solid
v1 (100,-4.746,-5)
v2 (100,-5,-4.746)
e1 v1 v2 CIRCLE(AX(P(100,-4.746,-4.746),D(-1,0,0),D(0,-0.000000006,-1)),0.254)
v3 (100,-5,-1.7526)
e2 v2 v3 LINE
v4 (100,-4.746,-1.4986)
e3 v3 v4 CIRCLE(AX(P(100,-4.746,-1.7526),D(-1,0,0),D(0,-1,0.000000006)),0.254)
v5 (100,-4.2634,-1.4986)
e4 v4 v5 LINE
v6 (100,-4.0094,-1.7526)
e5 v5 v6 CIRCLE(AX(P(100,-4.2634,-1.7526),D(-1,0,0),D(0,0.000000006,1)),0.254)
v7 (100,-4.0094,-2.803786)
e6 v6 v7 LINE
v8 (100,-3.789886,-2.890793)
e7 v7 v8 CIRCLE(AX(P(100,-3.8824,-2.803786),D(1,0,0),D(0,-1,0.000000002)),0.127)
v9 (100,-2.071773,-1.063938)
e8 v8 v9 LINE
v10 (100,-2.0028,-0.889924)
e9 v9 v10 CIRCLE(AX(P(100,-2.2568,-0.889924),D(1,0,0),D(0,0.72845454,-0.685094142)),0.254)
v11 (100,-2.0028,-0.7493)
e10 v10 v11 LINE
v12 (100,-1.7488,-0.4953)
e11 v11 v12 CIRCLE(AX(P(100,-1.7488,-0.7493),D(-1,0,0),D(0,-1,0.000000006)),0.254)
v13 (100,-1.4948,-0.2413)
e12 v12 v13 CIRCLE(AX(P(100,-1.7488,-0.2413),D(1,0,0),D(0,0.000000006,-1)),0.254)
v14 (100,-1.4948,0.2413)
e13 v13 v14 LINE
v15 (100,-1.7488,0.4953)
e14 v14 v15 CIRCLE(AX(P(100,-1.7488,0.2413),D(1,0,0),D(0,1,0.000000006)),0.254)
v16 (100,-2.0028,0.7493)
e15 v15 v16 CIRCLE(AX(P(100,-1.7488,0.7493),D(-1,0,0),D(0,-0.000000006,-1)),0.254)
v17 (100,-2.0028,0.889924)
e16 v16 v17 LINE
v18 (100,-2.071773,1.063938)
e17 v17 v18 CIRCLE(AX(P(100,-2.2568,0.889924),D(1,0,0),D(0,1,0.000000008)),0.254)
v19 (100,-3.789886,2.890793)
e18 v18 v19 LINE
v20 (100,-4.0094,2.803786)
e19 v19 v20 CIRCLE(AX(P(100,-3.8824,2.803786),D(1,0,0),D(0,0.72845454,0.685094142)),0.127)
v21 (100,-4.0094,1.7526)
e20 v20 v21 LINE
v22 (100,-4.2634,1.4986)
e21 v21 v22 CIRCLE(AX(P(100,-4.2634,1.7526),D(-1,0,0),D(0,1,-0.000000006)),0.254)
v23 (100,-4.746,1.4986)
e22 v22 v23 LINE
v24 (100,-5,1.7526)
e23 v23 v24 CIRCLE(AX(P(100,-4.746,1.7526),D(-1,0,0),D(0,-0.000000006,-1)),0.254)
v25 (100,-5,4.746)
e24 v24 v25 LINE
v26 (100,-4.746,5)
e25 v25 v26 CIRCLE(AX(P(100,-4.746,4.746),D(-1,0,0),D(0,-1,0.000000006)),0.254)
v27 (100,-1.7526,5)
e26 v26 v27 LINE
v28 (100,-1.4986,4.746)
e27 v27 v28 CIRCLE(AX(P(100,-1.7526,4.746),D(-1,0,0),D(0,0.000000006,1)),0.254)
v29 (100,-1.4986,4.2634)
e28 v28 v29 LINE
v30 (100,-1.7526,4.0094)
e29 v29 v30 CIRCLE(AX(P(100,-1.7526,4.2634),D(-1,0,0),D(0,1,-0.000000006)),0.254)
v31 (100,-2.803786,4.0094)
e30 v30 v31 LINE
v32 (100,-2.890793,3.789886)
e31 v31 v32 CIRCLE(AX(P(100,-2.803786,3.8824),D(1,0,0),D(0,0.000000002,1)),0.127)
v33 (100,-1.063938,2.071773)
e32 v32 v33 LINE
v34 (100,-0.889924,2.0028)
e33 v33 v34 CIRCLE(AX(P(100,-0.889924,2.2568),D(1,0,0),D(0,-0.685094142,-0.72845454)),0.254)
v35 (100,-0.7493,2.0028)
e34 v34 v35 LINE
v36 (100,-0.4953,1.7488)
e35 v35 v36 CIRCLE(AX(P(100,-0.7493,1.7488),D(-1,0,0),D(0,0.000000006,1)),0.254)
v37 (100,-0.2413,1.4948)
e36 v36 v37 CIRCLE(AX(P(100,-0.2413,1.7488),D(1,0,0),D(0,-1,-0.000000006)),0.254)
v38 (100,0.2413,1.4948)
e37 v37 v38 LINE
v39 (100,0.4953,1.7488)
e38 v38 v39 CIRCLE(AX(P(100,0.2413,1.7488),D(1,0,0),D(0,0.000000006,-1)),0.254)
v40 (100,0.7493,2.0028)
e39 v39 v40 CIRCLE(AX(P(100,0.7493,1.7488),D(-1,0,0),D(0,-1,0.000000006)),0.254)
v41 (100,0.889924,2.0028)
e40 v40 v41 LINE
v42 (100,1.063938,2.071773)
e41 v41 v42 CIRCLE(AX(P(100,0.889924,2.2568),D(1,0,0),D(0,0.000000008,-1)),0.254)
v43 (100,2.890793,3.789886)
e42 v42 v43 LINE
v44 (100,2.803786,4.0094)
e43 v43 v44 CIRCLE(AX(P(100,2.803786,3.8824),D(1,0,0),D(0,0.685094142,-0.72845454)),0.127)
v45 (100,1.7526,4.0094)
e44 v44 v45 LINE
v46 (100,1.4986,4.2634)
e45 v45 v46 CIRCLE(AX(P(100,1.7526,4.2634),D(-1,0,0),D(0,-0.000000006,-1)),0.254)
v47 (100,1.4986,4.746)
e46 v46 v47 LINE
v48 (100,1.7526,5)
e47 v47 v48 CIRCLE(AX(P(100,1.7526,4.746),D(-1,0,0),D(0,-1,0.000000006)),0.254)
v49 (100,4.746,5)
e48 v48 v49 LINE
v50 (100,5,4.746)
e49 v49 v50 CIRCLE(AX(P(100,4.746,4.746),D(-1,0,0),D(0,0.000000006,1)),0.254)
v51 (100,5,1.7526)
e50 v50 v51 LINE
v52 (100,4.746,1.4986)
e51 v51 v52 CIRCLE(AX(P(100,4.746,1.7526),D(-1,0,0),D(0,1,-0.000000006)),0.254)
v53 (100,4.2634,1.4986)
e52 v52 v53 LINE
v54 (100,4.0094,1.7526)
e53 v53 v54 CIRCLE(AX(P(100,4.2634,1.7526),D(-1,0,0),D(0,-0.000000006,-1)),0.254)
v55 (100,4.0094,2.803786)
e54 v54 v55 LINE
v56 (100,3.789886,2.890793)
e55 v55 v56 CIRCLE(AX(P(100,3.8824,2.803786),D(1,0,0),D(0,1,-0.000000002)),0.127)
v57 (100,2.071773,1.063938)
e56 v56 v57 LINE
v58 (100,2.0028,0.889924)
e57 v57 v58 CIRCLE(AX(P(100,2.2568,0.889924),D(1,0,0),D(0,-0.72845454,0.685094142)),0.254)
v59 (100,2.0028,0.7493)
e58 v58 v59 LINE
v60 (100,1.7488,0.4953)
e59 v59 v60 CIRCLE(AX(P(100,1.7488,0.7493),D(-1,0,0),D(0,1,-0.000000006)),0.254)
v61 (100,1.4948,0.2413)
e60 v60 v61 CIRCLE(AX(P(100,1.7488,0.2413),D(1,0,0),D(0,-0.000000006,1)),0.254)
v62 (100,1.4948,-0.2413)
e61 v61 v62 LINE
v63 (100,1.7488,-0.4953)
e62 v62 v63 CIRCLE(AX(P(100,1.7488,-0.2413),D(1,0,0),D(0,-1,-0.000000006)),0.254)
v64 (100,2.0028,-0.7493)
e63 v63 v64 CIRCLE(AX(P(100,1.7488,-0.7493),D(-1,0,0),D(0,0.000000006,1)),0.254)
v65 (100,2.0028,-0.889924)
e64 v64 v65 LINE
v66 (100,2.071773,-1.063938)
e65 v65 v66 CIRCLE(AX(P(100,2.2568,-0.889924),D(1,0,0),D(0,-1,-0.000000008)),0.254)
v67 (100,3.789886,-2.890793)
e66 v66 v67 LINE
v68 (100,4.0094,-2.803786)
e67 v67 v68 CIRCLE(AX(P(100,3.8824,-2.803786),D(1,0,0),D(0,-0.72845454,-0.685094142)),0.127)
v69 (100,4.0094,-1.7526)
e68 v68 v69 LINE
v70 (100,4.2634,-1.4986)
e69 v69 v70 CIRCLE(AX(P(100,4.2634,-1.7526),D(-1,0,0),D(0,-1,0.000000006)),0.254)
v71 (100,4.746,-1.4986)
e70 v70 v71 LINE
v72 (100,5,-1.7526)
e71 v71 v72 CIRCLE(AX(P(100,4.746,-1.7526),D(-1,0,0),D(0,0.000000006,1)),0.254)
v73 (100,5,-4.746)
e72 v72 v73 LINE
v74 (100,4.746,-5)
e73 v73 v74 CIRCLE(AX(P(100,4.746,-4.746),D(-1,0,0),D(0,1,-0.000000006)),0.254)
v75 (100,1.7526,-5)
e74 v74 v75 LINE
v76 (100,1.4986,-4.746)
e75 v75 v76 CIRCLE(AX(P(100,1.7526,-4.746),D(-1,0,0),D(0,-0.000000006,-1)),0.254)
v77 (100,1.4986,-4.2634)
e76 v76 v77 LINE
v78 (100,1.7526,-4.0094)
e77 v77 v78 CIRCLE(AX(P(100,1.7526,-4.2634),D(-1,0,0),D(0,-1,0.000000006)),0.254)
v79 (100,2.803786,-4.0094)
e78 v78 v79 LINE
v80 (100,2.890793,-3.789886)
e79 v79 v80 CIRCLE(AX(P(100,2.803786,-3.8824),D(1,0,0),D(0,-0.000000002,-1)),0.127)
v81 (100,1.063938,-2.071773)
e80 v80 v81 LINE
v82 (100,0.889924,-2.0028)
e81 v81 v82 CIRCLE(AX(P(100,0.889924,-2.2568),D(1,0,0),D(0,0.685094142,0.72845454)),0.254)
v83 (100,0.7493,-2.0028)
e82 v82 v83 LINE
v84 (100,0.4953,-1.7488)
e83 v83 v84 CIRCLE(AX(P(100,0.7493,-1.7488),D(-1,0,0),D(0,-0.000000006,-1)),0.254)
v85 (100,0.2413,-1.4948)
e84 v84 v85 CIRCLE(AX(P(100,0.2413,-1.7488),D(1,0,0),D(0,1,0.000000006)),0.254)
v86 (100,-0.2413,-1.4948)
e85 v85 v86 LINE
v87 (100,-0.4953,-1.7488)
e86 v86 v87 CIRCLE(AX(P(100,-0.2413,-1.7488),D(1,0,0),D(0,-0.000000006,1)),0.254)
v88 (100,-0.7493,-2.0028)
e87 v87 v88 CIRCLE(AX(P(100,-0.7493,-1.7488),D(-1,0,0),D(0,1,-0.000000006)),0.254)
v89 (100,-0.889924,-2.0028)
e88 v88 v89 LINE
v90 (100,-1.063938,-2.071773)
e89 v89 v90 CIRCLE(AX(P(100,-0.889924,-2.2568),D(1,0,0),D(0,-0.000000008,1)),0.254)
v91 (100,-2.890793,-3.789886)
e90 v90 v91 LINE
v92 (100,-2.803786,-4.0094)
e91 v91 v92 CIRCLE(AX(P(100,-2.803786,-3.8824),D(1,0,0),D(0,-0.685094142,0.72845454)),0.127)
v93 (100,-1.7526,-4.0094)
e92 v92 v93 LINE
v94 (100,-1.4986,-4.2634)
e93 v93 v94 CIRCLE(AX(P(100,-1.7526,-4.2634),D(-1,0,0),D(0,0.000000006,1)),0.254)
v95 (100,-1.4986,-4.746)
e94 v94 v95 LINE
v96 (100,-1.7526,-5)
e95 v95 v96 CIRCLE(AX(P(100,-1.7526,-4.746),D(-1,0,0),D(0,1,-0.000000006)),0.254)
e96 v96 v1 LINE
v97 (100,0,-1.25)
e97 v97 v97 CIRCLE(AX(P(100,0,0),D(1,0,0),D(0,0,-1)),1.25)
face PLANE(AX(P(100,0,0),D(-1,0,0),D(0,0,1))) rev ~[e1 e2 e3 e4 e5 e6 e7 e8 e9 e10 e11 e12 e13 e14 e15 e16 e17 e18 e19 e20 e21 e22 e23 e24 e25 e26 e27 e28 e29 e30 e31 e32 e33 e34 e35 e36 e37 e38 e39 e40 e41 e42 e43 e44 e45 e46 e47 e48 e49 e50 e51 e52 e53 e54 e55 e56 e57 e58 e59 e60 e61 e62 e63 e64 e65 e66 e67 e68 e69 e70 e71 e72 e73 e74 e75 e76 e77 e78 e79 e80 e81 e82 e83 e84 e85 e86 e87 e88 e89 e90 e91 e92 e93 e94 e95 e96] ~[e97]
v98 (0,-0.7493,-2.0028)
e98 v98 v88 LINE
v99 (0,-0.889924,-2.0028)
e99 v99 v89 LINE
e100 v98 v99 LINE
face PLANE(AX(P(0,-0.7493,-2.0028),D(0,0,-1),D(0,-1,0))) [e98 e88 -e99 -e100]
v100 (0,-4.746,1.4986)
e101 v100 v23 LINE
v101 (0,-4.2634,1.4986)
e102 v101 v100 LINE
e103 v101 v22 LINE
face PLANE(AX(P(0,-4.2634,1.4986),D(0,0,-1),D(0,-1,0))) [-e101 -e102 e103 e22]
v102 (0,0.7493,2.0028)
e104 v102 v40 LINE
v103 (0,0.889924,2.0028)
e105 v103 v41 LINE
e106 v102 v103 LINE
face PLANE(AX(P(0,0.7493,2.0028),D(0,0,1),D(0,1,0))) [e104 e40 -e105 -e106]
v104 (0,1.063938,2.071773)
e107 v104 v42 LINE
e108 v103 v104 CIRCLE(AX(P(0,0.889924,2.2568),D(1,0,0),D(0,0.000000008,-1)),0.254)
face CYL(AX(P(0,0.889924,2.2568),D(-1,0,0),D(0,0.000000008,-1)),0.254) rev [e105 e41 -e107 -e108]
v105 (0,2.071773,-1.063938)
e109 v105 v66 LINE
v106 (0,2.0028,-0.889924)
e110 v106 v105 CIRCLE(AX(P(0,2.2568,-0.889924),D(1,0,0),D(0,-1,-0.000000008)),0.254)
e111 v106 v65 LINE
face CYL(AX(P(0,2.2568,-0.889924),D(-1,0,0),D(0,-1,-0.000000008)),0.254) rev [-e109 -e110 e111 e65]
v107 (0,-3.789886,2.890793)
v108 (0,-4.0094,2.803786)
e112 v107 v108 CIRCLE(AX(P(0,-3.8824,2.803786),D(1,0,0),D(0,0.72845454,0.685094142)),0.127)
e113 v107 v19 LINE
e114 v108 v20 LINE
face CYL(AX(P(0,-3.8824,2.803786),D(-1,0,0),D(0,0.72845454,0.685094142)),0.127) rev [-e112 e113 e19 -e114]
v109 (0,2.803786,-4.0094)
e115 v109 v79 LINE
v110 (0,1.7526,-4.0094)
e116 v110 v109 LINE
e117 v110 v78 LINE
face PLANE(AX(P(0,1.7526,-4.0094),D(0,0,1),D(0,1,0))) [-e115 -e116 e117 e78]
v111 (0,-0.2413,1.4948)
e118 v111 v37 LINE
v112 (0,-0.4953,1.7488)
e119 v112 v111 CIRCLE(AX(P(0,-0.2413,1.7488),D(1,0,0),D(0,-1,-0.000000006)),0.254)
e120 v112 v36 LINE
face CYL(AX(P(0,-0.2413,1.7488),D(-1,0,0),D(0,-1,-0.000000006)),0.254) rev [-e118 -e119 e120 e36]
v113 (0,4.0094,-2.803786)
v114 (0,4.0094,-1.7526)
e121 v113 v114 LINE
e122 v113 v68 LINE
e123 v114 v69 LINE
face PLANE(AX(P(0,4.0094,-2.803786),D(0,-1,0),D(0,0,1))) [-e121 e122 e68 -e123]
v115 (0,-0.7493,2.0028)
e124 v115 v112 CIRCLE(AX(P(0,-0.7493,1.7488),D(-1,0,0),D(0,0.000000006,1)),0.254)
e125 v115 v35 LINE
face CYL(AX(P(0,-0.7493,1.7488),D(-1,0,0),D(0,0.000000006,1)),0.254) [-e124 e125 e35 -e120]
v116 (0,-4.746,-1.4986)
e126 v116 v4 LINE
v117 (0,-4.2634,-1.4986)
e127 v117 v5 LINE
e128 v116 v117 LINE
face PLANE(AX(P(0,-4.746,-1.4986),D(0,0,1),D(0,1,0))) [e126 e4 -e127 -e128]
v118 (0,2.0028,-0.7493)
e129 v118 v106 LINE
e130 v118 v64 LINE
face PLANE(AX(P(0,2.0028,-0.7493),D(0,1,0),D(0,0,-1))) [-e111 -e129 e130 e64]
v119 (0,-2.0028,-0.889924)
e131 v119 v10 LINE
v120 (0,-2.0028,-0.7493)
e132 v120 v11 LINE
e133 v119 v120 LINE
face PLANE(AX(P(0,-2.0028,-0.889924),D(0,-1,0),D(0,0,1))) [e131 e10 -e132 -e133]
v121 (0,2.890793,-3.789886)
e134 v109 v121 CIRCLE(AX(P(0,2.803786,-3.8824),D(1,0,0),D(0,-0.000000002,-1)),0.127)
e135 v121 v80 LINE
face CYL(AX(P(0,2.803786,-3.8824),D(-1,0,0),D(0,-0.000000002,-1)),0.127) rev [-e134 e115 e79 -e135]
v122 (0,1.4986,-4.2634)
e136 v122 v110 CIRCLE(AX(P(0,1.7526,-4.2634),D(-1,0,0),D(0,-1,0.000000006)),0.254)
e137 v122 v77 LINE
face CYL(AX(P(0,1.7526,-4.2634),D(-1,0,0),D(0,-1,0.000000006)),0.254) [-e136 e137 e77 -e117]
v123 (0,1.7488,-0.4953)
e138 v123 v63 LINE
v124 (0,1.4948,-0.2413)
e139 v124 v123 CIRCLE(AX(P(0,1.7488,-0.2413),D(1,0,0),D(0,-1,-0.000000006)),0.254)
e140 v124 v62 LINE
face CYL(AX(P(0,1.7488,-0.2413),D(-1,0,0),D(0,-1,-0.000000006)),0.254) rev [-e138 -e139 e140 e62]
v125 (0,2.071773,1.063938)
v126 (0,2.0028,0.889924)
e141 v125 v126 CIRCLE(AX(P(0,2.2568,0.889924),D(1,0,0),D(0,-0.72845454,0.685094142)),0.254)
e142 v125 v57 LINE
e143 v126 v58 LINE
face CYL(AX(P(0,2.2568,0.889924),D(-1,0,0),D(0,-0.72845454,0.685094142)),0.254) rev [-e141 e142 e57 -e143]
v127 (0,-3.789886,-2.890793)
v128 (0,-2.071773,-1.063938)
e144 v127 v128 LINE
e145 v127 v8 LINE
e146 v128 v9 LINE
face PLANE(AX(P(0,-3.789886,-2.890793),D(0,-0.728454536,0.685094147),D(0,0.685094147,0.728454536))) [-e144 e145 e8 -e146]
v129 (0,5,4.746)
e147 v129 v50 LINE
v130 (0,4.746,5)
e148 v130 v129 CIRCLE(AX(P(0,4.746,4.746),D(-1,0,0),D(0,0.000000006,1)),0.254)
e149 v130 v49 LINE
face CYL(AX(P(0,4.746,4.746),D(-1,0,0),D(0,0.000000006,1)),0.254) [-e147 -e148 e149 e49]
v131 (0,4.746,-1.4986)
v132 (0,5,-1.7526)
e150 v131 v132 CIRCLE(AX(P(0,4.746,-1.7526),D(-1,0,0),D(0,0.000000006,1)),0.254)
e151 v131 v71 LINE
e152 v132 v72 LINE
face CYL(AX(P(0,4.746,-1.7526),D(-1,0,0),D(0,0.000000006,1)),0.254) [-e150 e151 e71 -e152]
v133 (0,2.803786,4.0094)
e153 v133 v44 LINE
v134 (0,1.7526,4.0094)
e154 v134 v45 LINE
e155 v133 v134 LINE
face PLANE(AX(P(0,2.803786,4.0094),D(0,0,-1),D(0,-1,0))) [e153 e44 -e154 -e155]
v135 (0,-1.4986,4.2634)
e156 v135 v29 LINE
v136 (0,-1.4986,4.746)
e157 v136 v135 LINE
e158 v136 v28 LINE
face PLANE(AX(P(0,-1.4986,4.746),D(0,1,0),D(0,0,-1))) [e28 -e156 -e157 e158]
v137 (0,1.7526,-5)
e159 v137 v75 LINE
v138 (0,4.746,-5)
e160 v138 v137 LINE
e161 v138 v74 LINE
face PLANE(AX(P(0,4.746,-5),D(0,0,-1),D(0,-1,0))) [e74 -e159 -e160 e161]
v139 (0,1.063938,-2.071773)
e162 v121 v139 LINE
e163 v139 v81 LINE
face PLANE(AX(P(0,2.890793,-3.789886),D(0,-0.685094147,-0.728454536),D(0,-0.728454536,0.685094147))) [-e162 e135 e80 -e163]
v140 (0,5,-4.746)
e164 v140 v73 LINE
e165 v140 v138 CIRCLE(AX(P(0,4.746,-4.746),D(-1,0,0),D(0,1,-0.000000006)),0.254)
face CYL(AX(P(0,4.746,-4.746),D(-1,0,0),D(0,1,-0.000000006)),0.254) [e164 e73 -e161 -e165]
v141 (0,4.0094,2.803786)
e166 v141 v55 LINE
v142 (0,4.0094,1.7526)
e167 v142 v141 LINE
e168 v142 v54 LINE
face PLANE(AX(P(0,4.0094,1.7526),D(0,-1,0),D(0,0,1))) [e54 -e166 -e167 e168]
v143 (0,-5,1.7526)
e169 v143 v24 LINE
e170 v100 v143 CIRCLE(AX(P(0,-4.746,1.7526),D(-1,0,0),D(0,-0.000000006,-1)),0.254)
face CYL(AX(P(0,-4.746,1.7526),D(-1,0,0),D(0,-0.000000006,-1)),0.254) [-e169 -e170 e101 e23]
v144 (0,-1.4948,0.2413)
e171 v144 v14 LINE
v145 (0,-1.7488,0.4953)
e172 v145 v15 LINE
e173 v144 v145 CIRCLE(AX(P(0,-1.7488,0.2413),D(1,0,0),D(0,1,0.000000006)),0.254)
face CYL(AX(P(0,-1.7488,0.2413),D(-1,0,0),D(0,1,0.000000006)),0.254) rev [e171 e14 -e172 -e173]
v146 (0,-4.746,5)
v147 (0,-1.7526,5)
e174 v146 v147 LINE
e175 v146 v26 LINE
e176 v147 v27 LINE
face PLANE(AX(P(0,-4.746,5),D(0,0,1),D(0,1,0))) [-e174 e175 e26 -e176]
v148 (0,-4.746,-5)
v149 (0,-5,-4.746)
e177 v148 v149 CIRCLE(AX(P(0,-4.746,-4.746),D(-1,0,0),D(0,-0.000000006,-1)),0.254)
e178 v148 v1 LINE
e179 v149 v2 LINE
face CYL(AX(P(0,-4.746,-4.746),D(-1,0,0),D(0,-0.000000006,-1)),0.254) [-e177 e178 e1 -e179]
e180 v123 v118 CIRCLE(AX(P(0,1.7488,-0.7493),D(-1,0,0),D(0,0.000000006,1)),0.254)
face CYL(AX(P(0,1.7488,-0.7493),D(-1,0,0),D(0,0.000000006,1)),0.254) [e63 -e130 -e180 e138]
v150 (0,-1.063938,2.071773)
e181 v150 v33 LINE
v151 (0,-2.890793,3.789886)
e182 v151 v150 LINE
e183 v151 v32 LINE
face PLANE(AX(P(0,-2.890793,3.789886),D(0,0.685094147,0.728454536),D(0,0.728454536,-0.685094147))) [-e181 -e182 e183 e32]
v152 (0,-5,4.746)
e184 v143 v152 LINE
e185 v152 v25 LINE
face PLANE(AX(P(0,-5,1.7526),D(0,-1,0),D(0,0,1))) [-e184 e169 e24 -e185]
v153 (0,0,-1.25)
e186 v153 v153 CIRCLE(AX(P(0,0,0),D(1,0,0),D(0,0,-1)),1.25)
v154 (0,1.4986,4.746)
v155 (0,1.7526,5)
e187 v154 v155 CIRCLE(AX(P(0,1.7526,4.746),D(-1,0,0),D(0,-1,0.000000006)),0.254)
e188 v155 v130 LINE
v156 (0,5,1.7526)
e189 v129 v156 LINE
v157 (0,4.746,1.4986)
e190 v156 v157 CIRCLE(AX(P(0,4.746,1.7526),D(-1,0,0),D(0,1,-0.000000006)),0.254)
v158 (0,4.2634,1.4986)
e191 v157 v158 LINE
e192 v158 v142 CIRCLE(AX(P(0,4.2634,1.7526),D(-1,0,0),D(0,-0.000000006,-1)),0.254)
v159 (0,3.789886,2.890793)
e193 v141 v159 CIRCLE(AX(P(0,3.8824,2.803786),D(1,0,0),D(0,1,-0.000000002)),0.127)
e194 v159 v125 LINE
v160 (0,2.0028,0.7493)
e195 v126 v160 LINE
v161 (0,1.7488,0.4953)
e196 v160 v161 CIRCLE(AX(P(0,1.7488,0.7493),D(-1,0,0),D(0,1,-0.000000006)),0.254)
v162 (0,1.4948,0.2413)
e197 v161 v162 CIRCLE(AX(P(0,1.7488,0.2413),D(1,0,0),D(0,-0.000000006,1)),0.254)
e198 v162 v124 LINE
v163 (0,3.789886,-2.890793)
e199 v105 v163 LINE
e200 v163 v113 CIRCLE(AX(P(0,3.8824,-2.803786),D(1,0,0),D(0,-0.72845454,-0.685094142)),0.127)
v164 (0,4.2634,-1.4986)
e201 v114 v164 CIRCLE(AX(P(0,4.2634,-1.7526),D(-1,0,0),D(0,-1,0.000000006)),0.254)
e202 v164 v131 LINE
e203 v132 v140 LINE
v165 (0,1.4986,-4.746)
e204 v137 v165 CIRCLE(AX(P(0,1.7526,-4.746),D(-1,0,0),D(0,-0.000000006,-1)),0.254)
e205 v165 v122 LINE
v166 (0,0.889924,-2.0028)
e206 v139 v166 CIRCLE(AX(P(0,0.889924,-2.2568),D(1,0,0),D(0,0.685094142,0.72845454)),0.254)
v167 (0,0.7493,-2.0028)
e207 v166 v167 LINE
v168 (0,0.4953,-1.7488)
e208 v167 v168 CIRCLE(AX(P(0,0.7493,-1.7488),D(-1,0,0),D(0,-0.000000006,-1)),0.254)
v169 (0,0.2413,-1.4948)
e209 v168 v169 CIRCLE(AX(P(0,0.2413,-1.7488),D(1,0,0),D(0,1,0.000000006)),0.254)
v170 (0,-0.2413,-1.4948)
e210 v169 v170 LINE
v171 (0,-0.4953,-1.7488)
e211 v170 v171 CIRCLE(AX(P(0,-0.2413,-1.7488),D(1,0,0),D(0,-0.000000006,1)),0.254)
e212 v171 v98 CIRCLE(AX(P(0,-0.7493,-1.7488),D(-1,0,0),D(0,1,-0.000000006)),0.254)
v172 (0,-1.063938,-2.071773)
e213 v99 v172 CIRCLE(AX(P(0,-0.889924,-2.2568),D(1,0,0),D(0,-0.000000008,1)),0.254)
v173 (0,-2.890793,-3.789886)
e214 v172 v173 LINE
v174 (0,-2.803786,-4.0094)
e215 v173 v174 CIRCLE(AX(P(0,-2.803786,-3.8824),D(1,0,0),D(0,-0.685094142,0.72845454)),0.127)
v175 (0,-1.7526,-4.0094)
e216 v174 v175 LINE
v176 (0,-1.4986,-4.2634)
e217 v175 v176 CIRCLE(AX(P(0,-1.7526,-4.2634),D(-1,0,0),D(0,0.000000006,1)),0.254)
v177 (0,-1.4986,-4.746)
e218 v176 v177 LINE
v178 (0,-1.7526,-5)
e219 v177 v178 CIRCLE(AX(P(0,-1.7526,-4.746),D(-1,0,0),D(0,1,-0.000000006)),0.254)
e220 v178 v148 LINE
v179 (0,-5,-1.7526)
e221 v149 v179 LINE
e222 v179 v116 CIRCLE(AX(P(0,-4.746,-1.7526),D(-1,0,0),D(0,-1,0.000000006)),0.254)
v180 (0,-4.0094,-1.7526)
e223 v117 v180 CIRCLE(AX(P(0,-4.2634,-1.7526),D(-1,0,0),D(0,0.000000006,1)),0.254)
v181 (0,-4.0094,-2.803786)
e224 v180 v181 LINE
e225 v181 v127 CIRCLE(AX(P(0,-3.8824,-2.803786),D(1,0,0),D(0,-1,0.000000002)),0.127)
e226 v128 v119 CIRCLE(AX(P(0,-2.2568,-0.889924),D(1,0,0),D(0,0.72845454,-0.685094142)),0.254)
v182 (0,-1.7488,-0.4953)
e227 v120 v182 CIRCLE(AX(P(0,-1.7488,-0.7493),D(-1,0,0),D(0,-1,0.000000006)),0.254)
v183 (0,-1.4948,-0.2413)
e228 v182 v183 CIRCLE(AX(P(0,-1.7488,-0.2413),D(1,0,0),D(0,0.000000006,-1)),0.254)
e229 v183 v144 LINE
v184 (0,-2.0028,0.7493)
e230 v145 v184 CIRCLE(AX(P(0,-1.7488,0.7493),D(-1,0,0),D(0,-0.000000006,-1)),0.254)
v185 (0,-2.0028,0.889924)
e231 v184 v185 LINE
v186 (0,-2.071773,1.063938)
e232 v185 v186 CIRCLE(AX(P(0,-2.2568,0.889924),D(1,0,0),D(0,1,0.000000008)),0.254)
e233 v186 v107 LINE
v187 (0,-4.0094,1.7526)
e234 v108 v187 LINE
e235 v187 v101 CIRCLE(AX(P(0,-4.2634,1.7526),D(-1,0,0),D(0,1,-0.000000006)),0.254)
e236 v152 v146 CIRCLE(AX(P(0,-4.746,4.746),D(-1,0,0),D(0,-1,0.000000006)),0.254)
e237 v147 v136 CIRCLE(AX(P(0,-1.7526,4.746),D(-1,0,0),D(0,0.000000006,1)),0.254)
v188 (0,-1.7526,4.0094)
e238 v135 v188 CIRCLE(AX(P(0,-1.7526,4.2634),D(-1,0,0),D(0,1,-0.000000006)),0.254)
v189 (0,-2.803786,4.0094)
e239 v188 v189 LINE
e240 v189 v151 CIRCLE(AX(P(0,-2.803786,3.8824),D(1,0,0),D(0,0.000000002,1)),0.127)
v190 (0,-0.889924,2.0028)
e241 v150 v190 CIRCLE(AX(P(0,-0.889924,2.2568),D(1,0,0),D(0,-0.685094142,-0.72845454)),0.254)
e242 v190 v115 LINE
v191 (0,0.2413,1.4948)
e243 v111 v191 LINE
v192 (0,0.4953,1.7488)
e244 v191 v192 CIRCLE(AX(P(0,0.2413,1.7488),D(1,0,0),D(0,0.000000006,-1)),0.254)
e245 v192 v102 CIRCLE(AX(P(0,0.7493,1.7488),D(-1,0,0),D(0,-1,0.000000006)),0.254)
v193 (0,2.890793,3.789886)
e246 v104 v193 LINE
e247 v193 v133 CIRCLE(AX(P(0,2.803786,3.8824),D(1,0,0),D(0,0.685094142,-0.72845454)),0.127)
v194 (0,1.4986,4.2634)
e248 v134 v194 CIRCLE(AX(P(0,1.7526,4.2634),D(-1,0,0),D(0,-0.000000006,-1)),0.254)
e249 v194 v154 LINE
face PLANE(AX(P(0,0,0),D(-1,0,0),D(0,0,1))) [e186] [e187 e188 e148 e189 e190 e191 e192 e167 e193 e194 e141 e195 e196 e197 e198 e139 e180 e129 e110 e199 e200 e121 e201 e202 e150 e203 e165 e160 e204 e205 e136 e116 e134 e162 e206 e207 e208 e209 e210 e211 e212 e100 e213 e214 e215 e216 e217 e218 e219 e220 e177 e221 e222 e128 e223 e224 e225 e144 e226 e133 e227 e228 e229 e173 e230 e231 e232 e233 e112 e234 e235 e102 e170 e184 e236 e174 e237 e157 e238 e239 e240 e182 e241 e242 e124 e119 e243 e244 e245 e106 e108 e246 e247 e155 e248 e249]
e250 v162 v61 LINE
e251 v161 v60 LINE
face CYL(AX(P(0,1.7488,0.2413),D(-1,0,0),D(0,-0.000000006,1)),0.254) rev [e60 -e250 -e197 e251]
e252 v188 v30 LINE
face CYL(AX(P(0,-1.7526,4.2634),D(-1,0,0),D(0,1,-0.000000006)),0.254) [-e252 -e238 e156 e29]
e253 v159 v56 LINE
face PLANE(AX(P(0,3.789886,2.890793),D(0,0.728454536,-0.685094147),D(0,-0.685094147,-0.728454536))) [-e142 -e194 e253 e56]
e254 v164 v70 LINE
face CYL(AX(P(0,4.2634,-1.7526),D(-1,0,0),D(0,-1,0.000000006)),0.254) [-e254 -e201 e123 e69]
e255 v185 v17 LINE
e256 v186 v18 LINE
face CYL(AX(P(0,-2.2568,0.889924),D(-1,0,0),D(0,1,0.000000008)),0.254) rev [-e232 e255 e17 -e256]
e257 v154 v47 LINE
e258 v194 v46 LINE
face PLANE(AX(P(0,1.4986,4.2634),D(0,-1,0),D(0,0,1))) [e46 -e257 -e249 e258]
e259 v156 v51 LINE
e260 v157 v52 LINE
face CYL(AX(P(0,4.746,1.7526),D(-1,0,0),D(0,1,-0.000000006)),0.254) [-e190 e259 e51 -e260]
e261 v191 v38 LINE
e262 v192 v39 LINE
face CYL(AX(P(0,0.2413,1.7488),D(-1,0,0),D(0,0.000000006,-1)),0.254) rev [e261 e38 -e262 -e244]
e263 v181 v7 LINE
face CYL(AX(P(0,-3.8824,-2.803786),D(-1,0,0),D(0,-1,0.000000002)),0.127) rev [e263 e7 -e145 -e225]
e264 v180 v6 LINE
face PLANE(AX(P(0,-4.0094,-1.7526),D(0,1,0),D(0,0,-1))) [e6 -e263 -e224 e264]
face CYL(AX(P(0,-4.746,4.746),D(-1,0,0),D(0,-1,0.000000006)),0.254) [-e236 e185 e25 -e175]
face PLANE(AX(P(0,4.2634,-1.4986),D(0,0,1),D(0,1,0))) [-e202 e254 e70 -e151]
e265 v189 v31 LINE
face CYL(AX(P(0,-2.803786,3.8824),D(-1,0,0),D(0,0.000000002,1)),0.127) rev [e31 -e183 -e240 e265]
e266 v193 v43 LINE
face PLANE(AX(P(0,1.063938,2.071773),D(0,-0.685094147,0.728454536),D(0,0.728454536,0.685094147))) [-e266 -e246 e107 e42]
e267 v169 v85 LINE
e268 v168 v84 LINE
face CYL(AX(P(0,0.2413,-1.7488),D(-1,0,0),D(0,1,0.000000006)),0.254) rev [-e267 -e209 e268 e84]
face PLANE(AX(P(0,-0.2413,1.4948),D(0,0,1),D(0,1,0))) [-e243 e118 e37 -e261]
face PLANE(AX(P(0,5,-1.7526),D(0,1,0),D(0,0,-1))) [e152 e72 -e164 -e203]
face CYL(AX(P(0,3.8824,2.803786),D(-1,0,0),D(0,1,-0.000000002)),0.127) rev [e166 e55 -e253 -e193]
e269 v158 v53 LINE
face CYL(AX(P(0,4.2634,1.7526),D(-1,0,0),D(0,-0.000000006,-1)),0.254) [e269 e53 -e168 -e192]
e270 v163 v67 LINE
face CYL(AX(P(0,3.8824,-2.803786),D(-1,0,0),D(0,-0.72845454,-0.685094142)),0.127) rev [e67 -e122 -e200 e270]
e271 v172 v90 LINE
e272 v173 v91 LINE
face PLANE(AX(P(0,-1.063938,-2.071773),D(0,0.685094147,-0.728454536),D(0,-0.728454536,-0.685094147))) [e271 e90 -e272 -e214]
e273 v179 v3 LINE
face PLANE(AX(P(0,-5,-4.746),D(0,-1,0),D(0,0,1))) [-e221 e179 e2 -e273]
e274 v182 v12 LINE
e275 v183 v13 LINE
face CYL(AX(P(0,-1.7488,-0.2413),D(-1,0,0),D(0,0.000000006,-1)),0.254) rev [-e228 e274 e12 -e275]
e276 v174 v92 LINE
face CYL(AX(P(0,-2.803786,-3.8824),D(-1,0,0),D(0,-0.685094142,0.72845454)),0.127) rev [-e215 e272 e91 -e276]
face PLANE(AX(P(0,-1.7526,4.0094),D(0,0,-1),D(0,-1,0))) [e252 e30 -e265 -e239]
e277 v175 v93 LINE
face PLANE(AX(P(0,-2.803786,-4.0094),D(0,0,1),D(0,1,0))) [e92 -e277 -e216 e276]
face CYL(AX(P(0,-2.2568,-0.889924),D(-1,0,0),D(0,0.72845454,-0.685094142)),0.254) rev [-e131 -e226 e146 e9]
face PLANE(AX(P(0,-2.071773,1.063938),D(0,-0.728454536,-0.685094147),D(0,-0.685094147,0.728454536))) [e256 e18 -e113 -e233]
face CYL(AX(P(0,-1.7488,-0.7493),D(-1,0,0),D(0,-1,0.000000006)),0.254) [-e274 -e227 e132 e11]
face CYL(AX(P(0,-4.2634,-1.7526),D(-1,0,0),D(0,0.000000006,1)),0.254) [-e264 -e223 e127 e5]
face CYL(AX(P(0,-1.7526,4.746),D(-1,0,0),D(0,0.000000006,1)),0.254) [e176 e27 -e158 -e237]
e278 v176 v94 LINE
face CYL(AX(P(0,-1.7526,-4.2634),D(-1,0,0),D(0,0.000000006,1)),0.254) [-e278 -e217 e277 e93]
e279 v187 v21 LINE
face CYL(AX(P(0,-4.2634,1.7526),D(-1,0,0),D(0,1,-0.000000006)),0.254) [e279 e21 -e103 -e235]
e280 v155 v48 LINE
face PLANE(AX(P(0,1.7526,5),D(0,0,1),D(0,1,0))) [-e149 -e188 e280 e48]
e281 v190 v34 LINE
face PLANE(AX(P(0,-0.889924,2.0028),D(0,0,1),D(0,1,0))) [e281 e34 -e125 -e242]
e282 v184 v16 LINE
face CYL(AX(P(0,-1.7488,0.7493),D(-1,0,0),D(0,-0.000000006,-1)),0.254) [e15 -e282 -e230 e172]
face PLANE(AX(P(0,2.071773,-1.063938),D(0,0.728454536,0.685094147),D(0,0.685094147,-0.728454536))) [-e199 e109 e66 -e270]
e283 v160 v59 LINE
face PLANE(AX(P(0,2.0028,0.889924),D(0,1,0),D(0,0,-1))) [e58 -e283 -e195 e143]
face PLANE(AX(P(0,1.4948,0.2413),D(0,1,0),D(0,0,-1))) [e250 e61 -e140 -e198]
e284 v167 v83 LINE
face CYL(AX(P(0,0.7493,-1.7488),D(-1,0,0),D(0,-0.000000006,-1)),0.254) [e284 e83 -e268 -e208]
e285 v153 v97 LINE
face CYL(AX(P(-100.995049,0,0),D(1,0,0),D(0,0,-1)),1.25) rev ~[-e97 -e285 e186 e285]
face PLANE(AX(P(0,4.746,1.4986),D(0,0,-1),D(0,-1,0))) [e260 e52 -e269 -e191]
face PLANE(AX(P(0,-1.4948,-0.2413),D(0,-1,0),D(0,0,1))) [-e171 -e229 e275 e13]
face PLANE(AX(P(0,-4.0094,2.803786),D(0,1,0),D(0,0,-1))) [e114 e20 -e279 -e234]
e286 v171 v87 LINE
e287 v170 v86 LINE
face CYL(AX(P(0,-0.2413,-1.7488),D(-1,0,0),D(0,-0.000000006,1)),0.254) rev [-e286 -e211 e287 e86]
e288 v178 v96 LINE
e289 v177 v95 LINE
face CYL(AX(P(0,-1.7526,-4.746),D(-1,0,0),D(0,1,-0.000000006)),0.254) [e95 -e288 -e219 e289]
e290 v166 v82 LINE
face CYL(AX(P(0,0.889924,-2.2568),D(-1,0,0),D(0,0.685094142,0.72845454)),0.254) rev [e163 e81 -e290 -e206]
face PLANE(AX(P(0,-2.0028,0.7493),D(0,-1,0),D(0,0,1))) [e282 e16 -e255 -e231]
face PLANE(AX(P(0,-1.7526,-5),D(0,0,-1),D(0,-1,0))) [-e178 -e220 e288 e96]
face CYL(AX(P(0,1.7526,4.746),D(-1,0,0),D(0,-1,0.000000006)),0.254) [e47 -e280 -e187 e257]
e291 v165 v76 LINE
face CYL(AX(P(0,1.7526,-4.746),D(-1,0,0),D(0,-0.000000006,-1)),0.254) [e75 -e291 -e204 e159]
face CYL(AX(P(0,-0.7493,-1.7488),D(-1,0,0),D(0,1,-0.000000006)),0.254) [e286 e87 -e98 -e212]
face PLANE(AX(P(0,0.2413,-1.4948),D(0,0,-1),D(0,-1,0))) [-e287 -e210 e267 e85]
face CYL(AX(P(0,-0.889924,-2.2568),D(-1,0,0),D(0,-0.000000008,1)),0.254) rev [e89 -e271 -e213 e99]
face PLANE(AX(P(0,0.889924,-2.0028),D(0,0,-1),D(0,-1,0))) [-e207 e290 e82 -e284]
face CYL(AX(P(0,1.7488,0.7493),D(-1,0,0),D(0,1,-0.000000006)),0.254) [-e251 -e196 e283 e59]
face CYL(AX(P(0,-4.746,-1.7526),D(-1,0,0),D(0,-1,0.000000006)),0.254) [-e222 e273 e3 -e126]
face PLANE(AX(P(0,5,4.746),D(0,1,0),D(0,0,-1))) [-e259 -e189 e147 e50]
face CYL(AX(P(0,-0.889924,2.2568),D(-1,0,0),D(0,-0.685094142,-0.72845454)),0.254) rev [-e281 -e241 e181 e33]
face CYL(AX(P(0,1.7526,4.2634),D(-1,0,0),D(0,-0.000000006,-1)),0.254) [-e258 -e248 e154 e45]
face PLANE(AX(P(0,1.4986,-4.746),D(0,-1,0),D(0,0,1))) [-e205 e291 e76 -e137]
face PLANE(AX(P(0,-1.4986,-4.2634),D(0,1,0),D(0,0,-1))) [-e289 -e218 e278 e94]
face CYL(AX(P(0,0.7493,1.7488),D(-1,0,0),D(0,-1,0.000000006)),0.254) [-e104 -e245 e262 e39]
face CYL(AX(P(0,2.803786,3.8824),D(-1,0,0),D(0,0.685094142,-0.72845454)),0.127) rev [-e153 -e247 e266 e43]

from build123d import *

# Parameters (mm, degrees)
ESTRUSIONE_ESTRUSIONE1_DEPTH = 100
FORO_FILETTATO_M3X0_5_1_D    = 2.5


with BuildPart() as part:
    # Sketch1 → Estrusione-Estrusione1 (new body)
    with BuildSketch(Plane(origin=(0, 0, 0), x_dir=(0, 0, -1), z_dir=(1, 0, 0))):
        with BuildLine():
            Line((-0.2413, 1.4948), (0.2413, 1.4948))
            ThreePointArc((0.2413, 1.4948), (0.420905122, 1.569194878), (0.4953, 1.7488))
            ThreePointArc((0.4953, 1.7488), (0.569694878, 1.928405122), (0.7493, 2.0028))
            Line((0.7493, 2.0028), (0.889923986, 2.0028))
            ThreePointArc((0.889923986, 2.0028), (0.983516259, 2.020671886), (1.063937899, 2.071772548))
            Line((1.063937899, 2.071772548), (2.890793, 3.789886274))
            ThreePointArc((2.890793, 3.789886274), (2.921850101, 3.929196137), (2.803786044, 4.0094))
            Line((2.803786044, 4.0094), (1.7526, 4.0094))
            ThreePointArc((1.7526, 4.0094), (1.572994878, 4.083794878), (1.4986, 4.2634))
            Line((1.4986, 4.2634), (1.4986, 4.746))
            ThreePointArc((1.4986, 4.746), (1.572994878, 4.925605122), (1.7526, 5))
            Line((1.7526, 5), (4.746, 5))
            ThreePointArc((4.746, 5), (4.925605122, 4.925605122), (5, 4.746))
            Line((5, 4.746), (5, 1.7526))
            ThreePointArc((5, 1.7526), (4.925605122, 1.572994878), (4.746, 1.4986))
            Line((4.746, 1.4986), (4.2634, 1.4986))
            ThreePointArc((4.2634, 1.4986), (4.083794878, 1.572994878), (4.0094, 1.7526))
            Line((4.0094, 1.7526), (4.0094, 2.803786044))
            ThreePointArc((4.0094, 2.803786044), (3.929196137, 2.921850101), (3.789886274, 2.890793))
            Line((3.789886274, 2.890793), (2.071772548, 1.063937899))
            ThreePointArc((2.071772548, 1.063937899), (2.020671886, 0.983516259), (2.0028, 0.889923986))
            Line((2.0028, 0.889923986), (2.0028, 0.7493))
            ThreePointArc((2.0028, 0.7493), (1.928405122, 0.569694878), (1.7488, 0.4953))
            ThreePointArc((1.7488, 0.4953), (1.569194878, 0.420905122), (1.4948, 0.2413))
            Line((1.4948, 0.2413), (1.4948, -0.2413))
            ThreePointArc((1.4948, -0.2413), (1.569194878, -0.420905122), (1.7488, -0.4953))
            ThreePointArc((1.7488, -0.4953), (1.928405122, -0.569694878), (2.0028, -0.7493))
            Line((2.0028, -0.7493), (2.0028, -0.889923986))
            ThreePointArc((2.0028, -0.889923986), (2.020671886, -0.983516259), (2.071772548, -1.063937899))
            Line((2.071772548, -1.063937899), (3.789886274, -2.890793))
            ThreePointArc((3.789886274, -2.890793), (3.929196137, -2.921850101), (4.0094, -2.803786044))
            Line((4.0094, -2.803786044), (4.0094, -1.7526))
            ThreePointArc((4.0094, -1.7526), (4.083794878, -1.572994878), (4.2634, -1.4986))
            Line((4.2634, -1.4986), (4.746, -1.4986))
            ThreePointArc((4.746, -1.4986), (4.925605122, -1.572994878), (5, -1.7526))
            Line((5, -1.7526), (5, -4.746))
            ThreePointArc((5, -4.746), (4.925605122, -4.925605122), (4.746, -5))
            Line((4.746, -5), (1.7526, -5))
            ThreePointArc((1.7526, -5), (1.572994878, -4.925605122), (1.4986, -4.746))
            Line((1.4986, -4.746), (1.4986, -4.2634))
            ThreePointArc((1.4986, -4.2634), (1.572994878, -4.083794878), (1.7526, -4.0094))
            Line((1.7526, -4.0094), (2.803786044, -4.0094))
            ThreePointArc((2.803786044, -4.0094), (2.921850101, -3.929196137), (2.890793, -3.789886274))
            Line((2.890793, -3.789886274), (1.063937899, -2.071772548))
            ThreePointArc((1.063937899, -2.071772548), (0.983516259, -2.020671886), (0.889923986, -2.0028))
            Line((0.889923986, -2.0028), (0.7493, -2.0028))
            ThreePointArc((0.7493, -2.0028), (0.569694878, -1.928405122), (0.4953, -1.7488))
            ThreePointArc((0.4953, -1.7488), (0.420905122, -1.569194878), (0.2413, -1.4948))
            Line((0.2413, -1.4948), (-0.2413, -1.4948))
            ThreePointArc((-0.2413, -1.4948), (-0.420905122, -1.569194878), (-0.4953, -1.7488))
            ThreePointArc((-0.4953, -1.7488), (-0.569694878, -1.928405122), (-0.7493, -2.0028))
            Line((-0.7493, -2.0028), (-0.889923986, -2.0028))
            ThreePointArc((-0.889923986, -2.0028), (-0.983516259, -2.020671886), (-1.063937899, -2.071772548))
            Line((-1.063937899, -2.071772548), (-2.890793, -3.789886274))
            ThreePointArc((-2.890793, -3.789886274), (-2.921850101, -3.929196137), (-2.803786044, -4.0094))
            Line((-2.803786044, -4.0094), (-1.7526, -4.0094))
            ThreePointArc((-1.7526, -4.0094), (-1.572994878, -4.083794878), (-1.4986, -4.2634))
            Line((-1.4986, -4.2634), (-1.4986, -4.746))
            ThreePointArc((-1.4986, -4.746), (-1.572994878, -4.925605122), (-1.7526, -5))
            Line((-1.7526, -5), (-4.746, -5))
            ThreePointArc((-4.746, -5), (-4.925605122, -4.925605122), (-5, -4.746))
            Line((-5, -4.746), (-5, -1.7526))
            ThreePointArc((-5, -1.7526), (-4.925605122, -1.572994878), (-4.746, -1.4986))
            Line((-4.746, -1.4986), (-4.2634, -1.4986))
            ThreePointArc((-4.2634, -1.4986), (-4.083794878, -1.572994878), (-4.0094, -1.7526))
            Line((-4.0094, -1.7526), (-4.0094, -2.803786044))
            ThreePointArc((-4.0094, -2.803786044), (-3.929196137, -2.921850101), (-3.789886274, -2.890793))
            Line((-3.789886274, -2.890793), (-2.071772548, -1.063937899))
            ThreePointArc((-2.071772548, -1.063937899), (-2.020671886, -0.983516259), (-2.0028, -0.889923986))
            Line((-2.0028, -0.889923986), (-2.0028, -0.7493))
            ThreePointArc((-2.0028, -0.7493), (-1.928405122, -0.569694878), (-1.7488, -0.4953))
            ThreePointArc((-1.7488, -0.4953), (-1.569194878, -0.420905122), (-1.4948, -0.2413))
            Line((-1.4948, -0.2413), (-1.4948, 0.2413))
            ThreePointArc((-1.4948, 0.2413), (-1.569194878, 0.420905122), (-1.7488, 0.4953))
            ThreePointArc((-1.7488, 0.4953), (-1.928405122, 0.569694878), (-2.0028, 0.7493))
            Line((-2.0028, 0.7493), (-2.0028, 0.889923986))
            ThreePointArc((-2.0028, 0.889923986), (-2.020671886, 0.983516259), (-2.071772548, 1.063937899))
            Line((-2.071772548, 1.063937899), (-3.789886274, 2.890793))
            ThreePointArc((-3.789886274, 2.890793), (-3.929196137, 2.921850101), (-4.0094, 2.803786044))
            Line((-4.0094, 2.803786044), (-4.0094, 1.7526))
            ThreePointArc((-4.0094, 1.7526), (-4.083794878, 1.572994878), (-4.2634, 1.4986))
            Line((-4.2634, 1.4986), (-4.746, 1.4986))
            ThreePointArc((-4.746, 1.4986), (-4.925605122, 1.572994878), (-5, 1.7526))
            Line((-5, 1.7526), (-5, 4.746))
            ThreePointArc((-5, 4.746), (-4.925605122, 4.925605122), (-4.746, 5))
            Line((-4.746, 5), (-1.7526, 5))
            ThreePointArc((-1.7526, 5), (-1.572994878, 4.925605122), (-1.4986, 4.746))
            Line((-1.4986, 4.746), (-1.4986, 4.2634))
            ThreePointArc((-1.4986, 4.2634), (-1.572994878, 4.083794878), (-1.7526, 4.0094))
            Line((-1.7526, 4.0094), (-2.803786044, 4.0094))
            ThreePointArc((-2.803786044, 4.0094), (-2.921850101, 3.929196137), (-2.890793, 3.789886274))
            Line((-2.890793, 3.789886274), (-1.063937899, 2.071772548))
            ThreePointArc((-1.063937899, 2.071772548), (-0.983516259, 2.020671886), (-0.889923986, 2.0028))
            Line((-0.889923986, 2.0028), (-0.7493, 2.0028))
            ThreePointArc((-0.7493, 2.0028), (-0.569694878, 1.928405122), (-0.4953, 1.7488))
            ThreePointArc((-0.4953, 1.7488), (-0.420905122, 1.569194878), (-0.2413, 1.4948))
        make_face()
    extrude(amount=ESTRUSIONE_ESTRUSIONE1_DEPTH)

    # Foro filettato M3x0.5-1 (through all)
    with Locations(Plane.ZY):
        with Locations((0, 0)):
            Hole(FORO_FILETTATO_M3X0_5_1_D / 2)


solid = part.part
